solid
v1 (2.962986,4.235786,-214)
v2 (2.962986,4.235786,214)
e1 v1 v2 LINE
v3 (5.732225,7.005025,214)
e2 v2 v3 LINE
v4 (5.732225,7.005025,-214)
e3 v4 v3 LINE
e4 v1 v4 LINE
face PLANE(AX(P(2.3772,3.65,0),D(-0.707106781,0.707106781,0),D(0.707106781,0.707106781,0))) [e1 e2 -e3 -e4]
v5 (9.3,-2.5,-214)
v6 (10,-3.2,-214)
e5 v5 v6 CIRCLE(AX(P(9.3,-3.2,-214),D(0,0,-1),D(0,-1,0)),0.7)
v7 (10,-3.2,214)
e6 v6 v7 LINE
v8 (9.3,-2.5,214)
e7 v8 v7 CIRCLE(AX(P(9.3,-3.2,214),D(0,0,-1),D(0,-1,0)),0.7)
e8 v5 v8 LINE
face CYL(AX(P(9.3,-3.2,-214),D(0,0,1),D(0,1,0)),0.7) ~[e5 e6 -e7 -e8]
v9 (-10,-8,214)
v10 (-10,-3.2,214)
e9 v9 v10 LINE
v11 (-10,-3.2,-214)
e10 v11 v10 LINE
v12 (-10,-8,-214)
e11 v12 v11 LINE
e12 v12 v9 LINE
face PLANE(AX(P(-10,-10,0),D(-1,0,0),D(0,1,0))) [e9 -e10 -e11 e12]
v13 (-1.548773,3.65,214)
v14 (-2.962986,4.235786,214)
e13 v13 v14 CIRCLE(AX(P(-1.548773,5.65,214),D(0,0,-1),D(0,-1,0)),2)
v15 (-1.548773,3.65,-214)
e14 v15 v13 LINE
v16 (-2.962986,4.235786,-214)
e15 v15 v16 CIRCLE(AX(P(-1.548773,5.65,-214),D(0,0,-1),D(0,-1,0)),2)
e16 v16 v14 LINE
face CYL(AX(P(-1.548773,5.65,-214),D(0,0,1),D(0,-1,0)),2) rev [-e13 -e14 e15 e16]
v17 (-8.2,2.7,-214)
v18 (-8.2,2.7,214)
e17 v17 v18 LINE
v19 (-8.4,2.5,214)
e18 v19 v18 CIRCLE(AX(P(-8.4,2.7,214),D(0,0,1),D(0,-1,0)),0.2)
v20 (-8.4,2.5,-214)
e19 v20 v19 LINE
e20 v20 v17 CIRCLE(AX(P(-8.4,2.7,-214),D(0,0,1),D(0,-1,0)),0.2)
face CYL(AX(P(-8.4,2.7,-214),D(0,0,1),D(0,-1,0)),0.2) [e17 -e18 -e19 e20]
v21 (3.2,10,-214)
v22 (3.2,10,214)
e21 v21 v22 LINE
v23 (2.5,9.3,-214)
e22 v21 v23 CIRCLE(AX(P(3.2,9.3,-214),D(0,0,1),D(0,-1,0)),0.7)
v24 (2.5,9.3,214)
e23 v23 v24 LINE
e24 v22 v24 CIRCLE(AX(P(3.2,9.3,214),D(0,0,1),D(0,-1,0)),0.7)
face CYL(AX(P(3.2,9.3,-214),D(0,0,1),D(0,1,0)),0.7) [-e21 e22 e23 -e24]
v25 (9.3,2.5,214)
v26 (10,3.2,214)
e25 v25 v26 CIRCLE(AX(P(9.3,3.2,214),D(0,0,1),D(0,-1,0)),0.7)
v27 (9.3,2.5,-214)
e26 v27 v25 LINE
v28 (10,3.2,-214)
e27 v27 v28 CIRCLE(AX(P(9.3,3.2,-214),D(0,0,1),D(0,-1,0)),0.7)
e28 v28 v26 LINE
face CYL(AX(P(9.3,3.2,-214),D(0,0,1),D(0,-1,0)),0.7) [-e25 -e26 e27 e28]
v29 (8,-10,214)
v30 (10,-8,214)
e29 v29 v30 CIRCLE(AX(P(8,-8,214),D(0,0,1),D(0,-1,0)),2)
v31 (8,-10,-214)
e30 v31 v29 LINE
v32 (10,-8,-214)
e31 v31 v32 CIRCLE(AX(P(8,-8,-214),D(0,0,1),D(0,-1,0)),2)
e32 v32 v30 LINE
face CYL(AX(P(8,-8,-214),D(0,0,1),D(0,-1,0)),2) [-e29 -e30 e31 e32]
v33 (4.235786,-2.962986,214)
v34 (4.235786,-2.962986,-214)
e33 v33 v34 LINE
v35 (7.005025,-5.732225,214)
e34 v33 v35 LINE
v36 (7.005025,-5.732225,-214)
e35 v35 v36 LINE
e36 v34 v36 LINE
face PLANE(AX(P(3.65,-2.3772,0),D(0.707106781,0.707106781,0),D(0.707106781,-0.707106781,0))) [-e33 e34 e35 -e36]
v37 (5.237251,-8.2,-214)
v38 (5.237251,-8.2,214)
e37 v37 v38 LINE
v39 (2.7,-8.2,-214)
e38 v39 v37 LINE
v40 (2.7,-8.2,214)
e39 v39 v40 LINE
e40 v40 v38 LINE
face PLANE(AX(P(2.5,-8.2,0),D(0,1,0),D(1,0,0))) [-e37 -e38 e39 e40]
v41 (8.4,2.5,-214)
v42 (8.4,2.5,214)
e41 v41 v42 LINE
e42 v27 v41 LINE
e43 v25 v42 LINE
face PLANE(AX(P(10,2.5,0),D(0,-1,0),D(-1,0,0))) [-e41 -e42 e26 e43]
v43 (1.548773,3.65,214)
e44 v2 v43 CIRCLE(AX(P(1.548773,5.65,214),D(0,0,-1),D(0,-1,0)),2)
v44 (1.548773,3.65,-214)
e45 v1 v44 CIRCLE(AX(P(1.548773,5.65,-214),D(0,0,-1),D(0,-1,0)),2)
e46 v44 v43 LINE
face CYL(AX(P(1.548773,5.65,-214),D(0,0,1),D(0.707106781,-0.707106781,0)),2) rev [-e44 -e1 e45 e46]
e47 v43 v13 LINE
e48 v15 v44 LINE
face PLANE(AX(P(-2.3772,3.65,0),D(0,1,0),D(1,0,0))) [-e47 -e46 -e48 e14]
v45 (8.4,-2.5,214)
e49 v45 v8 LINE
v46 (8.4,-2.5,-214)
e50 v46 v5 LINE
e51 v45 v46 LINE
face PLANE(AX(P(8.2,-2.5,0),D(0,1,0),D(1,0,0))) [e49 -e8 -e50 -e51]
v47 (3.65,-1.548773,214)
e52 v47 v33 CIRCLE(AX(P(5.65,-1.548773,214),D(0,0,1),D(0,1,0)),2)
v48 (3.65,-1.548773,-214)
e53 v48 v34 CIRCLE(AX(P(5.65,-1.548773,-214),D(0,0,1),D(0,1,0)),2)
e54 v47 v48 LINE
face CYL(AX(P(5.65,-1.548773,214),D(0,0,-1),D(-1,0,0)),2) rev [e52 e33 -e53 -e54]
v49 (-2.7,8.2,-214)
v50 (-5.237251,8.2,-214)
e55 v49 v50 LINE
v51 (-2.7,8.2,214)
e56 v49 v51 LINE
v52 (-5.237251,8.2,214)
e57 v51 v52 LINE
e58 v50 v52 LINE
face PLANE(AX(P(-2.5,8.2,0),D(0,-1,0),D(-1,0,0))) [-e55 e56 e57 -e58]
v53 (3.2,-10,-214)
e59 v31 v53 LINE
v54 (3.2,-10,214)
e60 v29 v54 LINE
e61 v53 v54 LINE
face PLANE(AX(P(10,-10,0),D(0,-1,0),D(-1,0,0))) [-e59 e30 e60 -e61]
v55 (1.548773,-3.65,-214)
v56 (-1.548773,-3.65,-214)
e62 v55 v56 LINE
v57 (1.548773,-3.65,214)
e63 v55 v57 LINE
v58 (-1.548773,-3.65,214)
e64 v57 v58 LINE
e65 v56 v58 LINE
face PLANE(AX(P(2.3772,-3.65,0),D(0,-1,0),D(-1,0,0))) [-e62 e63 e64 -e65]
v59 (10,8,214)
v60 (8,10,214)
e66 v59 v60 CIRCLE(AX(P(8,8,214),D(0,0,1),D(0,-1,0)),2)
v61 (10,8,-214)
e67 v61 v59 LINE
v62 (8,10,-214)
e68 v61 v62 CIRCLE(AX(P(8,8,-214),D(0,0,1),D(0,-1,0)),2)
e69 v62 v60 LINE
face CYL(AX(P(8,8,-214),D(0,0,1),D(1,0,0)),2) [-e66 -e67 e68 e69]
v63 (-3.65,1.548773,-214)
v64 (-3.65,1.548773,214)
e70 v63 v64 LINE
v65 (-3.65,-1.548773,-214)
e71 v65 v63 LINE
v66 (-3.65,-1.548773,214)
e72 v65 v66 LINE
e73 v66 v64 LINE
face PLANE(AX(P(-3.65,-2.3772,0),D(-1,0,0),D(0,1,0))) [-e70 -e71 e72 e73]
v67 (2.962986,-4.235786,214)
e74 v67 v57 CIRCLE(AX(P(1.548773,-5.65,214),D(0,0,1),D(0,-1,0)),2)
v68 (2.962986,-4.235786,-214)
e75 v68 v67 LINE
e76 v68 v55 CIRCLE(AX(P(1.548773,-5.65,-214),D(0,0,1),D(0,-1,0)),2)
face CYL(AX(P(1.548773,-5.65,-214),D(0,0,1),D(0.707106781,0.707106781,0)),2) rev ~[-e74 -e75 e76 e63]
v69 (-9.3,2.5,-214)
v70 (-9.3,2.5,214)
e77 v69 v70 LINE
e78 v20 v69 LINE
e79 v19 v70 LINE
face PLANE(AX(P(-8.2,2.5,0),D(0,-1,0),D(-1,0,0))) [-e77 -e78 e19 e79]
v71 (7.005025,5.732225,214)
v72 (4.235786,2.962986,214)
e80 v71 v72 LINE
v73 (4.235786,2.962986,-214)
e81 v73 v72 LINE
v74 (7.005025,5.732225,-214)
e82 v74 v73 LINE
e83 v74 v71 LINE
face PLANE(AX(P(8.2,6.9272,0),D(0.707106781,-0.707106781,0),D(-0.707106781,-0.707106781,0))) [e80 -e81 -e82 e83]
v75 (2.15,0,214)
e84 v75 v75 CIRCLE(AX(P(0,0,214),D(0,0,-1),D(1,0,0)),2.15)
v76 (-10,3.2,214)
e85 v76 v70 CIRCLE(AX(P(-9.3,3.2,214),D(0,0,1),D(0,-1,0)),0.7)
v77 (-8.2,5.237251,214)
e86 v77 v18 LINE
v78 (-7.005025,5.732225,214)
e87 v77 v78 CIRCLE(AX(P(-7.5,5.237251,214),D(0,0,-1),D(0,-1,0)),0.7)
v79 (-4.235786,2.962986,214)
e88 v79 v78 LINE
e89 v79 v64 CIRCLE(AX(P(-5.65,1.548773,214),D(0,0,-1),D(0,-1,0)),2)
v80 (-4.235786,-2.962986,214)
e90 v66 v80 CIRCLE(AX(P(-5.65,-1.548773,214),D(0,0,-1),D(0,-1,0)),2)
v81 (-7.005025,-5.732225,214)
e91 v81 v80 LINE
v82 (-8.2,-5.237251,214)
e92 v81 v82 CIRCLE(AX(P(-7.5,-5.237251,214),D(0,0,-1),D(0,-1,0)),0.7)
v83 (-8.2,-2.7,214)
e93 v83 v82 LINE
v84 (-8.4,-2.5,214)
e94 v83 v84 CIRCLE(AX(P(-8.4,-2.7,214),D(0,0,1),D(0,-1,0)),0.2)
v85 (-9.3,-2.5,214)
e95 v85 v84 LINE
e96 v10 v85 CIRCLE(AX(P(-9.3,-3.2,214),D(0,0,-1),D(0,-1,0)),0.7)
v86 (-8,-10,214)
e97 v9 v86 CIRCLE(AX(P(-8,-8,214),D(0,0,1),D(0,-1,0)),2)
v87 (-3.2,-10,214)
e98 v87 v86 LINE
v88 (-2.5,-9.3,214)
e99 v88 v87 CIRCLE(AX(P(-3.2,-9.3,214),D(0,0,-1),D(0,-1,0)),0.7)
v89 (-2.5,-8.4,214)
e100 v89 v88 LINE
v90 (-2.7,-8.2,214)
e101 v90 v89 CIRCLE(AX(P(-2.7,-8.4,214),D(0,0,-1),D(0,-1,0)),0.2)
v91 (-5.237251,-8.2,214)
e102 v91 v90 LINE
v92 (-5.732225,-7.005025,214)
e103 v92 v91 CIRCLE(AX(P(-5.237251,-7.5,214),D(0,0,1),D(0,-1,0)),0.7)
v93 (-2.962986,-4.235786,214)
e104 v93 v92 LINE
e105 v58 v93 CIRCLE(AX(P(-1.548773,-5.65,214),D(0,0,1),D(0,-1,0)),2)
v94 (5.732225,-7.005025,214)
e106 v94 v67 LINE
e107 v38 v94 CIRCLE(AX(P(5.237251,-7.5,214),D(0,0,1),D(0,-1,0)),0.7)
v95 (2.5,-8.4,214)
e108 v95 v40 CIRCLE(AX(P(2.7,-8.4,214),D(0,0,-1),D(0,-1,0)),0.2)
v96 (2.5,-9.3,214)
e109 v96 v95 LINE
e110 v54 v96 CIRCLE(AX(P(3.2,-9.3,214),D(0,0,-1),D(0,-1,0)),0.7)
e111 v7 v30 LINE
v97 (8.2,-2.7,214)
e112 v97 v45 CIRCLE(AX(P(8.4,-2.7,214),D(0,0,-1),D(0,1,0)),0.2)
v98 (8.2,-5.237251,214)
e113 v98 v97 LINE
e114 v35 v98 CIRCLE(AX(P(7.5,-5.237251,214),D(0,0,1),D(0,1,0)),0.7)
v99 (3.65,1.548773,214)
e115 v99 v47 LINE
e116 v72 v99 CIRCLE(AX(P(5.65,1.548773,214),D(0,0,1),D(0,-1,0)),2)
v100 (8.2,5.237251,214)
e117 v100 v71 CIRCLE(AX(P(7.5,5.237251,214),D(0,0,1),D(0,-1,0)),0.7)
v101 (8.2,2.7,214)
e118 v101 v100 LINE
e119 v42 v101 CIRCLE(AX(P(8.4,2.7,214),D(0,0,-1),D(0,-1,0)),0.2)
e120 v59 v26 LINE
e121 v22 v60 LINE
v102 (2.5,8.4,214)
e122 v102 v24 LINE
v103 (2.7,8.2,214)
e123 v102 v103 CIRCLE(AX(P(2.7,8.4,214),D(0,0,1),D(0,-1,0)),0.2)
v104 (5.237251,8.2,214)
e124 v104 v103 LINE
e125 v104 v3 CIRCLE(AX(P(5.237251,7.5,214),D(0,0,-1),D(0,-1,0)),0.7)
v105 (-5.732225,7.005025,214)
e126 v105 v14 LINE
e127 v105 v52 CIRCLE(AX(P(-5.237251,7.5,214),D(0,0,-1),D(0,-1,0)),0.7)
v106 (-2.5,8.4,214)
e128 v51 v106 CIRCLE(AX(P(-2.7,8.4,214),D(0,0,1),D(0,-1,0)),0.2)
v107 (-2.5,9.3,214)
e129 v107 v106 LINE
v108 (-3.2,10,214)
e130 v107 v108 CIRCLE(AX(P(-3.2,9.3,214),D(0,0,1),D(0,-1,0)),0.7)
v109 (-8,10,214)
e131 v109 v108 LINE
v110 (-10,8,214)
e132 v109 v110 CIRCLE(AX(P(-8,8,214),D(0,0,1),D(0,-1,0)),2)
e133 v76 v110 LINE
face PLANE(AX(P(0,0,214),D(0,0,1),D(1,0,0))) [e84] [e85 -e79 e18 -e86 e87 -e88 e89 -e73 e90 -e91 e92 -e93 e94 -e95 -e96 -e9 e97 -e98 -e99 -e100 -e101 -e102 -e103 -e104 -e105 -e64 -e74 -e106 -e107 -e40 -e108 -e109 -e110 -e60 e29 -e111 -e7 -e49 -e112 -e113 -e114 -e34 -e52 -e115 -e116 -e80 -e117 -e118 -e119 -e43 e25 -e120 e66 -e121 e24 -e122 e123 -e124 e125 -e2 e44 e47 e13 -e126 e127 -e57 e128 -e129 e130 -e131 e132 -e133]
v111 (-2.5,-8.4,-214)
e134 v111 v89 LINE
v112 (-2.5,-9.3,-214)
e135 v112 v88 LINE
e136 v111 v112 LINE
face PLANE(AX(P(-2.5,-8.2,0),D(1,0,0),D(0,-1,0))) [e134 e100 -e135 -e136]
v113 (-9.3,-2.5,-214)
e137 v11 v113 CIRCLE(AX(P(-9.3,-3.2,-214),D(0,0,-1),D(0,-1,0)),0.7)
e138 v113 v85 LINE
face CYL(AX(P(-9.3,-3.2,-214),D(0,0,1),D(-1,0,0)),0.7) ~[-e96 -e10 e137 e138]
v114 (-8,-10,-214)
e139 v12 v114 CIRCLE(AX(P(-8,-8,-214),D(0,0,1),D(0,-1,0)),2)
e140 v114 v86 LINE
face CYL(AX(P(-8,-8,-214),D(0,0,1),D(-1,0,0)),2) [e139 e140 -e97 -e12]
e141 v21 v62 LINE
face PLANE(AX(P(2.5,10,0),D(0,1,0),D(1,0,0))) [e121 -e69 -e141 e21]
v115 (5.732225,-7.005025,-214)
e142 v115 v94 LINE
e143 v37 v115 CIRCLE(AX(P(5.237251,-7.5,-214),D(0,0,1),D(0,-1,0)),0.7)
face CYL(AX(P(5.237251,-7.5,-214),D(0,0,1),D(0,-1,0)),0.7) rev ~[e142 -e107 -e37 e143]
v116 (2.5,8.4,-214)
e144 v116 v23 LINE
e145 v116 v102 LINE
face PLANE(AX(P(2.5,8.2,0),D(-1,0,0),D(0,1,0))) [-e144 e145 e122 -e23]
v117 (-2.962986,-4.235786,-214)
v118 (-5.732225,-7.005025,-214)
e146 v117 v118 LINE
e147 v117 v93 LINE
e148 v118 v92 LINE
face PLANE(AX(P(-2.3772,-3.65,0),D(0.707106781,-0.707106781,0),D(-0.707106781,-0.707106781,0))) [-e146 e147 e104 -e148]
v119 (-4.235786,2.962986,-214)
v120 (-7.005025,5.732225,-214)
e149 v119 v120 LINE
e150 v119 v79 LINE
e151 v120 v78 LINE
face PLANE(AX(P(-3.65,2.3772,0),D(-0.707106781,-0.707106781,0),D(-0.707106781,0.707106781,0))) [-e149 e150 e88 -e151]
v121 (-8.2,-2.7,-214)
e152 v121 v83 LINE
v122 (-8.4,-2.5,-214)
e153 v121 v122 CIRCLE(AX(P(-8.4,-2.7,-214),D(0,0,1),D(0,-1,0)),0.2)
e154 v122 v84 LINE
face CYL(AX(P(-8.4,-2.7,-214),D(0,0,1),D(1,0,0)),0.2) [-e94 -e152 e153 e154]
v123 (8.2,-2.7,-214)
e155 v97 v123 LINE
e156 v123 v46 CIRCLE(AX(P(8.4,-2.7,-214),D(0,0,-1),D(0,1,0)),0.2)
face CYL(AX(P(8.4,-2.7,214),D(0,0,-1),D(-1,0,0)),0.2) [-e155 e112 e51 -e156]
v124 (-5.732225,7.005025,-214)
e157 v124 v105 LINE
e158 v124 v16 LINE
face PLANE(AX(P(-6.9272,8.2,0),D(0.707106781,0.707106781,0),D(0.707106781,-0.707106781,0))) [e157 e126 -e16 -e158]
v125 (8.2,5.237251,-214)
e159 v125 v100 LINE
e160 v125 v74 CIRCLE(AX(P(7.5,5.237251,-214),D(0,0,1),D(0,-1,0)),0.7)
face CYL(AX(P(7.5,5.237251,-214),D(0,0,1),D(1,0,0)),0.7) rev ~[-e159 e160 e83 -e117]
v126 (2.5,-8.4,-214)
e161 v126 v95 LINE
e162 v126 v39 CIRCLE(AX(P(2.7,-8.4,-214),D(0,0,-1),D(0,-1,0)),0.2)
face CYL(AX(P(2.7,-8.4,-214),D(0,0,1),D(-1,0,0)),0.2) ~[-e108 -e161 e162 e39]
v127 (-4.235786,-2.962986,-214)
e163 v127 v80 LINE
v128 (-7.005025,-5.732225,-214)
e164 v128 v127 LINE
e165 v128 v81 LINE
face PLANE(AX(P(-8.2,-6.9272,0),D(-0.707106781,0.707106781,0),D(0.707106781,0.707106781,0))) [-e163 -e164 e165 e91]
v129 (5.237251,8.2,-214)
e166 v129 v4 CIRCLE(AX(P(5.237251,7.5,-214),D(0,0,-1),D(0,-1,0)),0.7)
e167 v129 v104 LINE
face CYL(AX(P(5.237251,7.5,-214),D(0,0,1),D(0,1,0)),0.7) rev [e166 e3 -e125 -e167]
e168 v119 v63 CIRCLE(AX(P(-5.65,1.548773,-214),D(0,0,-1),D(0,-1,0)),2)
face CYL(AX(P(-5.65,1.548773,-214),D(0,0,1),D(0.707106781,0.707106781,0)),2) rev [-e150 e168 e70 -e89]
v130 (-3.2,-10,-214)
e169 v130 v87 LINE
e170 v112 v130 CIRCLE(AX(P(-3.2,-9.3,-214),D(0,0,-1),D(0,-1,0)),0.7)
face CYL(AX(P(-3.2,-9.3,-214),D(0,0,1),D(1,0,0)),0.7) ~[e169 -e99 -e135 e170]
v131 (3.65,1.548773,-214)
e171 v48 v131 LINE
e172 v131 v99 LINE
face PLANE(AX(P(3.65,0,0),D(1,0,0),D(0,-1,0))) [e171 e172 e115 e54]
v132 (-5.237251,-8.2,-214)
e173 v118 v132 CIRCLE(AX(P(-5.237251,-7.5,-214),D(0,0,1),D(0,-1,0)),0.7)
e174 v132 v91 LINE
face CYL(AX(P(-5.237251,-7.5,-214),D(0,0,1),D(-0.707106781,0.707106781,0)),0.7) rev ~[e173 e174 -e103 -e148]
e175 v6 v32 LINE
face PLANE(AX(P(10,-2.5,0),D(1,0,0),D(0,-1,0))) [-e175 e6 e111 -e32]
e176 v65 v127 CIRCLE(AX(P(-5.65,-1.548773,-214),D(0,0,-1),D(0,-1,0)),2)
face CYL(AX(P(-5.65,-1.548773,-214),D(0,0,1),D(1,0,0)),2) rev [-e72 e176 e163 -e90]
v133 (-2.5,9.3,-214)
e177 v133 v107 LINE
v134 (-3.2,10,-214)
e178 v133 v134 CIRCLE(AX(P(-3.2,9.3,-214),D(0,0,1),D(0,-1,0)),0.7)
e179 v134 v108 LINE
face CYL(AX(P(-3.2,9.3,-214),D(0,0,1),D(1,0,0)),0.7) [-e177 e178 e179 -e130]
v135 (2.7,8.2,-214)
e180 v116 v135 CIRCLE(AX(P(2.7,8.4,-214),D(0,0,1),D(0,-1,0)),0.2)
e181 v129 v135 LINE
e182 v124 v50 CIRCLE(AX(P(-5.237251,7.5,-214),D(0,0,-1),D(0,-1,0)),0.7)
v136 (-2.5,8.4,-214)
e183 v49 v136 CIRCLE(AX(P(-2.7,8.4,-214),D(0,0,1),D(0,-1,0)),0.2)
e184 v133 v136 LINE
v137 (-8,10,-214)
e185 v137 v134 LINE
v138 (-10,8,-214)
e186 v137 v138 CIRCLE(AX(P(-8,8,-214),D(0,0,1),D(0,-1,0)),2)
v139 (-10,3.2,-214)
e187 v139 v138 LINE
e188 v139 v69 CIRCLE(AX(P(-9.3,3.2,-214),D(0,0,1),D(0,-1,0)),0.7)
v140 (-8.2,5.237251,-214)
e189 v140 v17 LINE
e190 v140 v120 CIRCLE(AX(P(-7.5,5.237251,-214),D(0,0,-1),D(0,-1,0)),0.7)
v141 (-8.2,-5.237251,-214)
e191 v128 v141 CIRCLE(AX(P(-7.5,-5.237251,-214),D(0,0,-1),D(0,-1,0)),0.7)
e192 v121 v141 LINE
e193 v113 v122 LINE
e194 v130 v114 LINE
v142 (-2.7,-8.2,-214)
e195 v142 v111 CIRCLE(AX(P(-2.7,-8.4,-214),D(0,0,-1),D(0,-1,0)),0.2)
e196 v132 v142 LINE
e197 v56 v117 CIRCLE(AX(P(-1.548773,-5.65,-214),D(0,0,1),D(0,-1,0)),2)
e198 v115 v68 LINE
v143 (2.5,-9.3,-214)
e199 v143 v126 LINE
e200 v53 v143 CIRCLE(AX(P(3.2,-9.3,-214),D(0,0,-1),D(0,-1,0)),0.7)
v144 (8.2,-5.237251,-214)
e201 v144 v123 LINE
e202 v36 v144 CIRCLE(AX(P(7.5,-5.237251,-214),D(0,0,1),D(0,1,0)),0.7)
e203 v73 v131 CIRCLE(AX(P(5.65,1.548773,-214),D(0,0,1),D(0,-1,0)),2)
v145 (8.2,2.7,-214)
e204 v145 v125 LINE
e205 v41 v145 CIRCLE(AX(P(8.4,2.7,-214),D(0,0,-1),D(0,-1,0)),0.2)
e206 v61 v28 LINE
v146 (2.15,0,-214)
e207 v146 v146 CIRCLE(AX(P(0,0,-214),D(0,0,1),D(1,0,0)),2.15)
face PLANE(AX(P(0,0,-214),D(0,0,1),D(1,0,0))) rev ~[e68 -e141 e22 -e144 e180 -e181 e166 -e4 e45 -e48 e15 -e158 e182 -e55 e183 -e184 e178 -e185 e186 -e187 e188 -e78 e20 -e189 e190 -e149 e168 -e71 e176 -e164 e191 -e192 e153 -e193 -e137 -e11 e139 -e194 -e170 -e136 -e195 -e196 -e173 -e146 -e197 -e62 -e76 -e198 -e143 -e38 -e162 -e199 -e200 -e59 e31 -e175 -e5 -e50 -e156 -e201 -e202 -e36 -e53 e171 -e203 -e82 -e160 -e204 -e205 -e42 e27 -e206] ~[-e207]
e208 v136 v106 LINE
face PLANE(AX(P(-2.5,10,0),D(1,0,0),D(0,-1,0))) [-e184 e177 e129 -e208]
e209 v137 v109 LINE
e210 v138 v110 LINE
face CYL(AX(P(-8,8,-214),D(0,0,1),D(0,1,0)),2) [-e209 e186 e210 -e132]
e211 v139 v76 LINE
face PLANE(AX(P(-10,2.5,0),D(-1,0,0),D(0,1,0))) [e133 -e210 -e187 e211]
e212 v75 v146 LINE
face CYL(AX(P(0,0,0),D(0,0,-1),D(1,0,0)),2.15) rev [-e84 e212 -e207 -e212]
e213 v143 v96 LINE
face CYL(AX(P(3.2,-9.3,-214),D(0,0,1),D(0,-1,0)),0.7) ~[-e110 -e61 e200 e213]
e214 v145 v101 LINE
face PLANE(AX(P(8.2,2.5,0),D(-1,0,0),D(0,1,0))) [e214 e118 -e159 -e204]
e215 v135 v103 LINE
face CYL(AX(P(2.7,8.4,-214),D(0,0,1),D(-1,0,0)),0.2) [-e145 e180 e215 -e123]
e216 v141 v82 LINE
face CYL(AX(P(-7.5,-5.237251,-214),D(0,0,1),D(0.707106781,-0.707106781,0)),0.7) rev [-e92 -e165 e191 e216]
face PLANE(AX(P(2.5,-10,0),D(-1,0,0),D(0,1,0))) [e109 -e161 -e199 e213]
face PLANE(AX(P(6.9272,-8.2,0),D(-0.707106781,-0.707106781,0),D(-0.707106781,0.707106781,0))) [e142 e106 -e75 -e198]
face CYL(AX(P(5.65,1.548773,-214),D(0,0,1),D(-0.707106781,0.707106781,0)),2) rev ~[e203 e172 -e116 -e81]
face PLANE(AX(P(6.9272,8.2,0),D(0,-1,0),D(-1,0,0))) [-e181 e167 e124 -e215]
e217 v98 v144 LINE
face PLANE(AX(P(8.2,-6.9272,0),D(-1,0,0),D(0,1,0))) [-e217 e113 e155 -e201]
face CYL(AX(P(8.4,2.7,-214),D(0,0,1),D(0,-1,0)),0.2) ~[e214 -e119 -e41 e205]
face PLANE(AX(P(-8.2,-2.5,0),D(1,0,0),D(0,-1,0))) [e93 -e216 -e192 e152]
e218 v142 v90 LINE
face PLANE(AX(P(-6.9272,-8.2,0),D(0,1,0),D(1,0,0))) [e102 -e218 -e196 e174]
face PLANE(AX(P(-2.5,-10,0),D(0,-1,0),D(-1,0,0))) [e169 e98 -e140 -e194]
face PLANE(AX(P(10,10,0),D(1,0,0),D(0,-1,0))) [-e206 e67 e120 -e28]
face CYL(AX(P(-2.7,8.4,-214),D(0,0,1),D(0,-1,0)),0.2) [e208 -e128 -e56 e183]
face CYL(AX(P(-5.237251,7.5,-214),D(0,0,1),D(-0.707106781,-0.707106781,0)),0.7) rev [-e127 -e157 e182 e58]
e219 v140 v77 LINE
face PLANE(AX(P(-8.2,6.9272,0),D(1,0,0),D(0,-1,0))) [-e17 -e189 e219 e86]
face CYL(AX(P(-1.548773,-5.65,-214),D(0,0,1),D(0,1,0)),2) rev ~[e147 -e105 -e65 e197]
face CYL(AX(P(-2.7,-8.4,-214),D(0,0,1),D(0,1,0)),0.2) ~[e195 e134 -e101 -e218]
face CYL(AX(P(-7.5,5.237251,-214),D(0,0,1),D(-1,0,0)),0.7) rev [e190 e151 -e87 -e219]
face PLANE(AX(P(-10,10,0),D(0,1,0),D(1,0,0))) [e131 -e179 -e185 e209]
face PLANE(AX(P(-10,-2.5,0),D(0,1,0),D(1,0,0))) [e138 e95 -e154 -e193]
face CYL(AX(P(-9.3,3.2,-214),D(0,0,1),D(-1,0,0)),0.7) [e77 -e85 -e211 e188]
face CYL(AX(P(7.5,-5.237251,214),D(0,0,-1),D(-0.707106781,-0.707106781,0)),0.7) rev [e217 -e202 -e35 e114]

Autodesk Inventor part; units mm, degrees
ref_plane "YZ Plane" through (0, 0, 0) normal (1, 0, 0) x (0, 1, 0)
ref_plane "XZ Plane" through (0, 0, 0) normal (0, 1, 0) x (-1, 0, 0)
ref_plane "XY Plane" through (0, 0, 0) normal (0, 0, 1) x (1, 0, 0)
sketch "Sketch1" plane through (0, 0, 0) normal (0, 0, 1) x (1, 0, 0)
  circle A0 centre (0, 0) radius 2.15
  line L0 (-10, 10) -> (-2.5, 10)
  line L1 (-2.5, 10) -> (-2.5, 8.2)
  line L2 (-2.5, 8.2) -> (-6.9272, 8.2)
  line L3 (-6.9272, 8.2) -> (-2.3772, 3.65)
  line L4 (-2.3772, 3.65) -> (2.3772, 3.65)
  line L5 (2.3772, 3.65) -> (6.9272, 8.2)
  line L6 (6.9272, 8.2) -> (2.5, 8.2)
  line L7 (2.5, 8.2) -> (2.5, 10)
  line L8 (2.5, 10) -> (10, 10)
  line L9 (10, 10) -> (10, 2.5)
  line L10 (10, 2.5) -> (8.2, 2.5)
  line L11 (8.2, 2.5) -> (8.2, 6.9272)
  line L12 (8.2, 6.9272) -> (3.65, 2.3772)
  line L13 (3.65, 2.3772) -> (3.65, -2.3772)
  line L14 (3.65, -2.3772) -> (8.2, -6.9272)
  line L15 (8.2, -6.9272) -> (8.2, -2.5)
  line L16 (8.2, -2.5) -> (10, -2.5)
  line L17 (10, -2.5) -> (10, -10)
  line L18 (10, -10) -> (2.5, -10)
  line L19 (2.5, -10) -> (2.5, -8.2)
  line L20 (2.5, -8.2) -> (6.9272, -8.2)
  line L21 (6.9272, -8.2) -> (2.3772, -3.65)
  line L22 (2.3772, -3.65) -> (-2.3772, -3.65)
  line L23 (-2.3772, -3.65) -> (-6.9272, -8.2)
  line L24 (-6.9272, -8.2) -> (-2.5, -8.2)
  line L25 (-2.5, -8.2) -> (-2.5, -10)
  line L26 (-2.5, -10) -> (-10, -10)
  line L27 (-10, -10) -> (-10, -2.5)
  line L28 (-10, -2.5) -> (-8.2, -2.5)
  line L29 (-8.2, -2.5) -> (-8.2, -6.9272)
  line L30 (-8.2, -6.9272) -> (-3.65, -2.3772)
  line L31 (-3.65, -2.3772) -> (-3.65, 2.3772)
  line L32 (-3.65, 2.3772) -> (-8.2, 6.9272)
  line L33 (-8.2, 6.9272) -> (-8.2, 2.5)
  line L34 (-8.2, 2.5) -> (-10, 2.5)
  line L35 (-10, 2.5) -> (-10, 10)
  line L36 (0, 0) -> (-30.8654, 30.8654)
  line L37 (0, 0) -> (30.8654, 30.8654)
  line L38 (0, 0) -> (42.5392, 0)
  line L39 (0, 0) -> (0, 44.3419)
  dimension "d0" = 45
  dimension "d1" = 90
  dimension "Breite" = 20
  dimension "Tiefe_Schiene" = 6.35
  dimension "d2" = 1.8
  dimension "Durchmesser_Loch" = 4.3
  dimension "Wandstaerke" = 1.8
  dimension "d3" = 1.8
  dimension "Breite_Schiene" = 5
  dimension "d4" = 5
extrude "Extrusion1" add sketch "Sketch1" along normal mid plane 428 contours L38 L13 L14 L15 L16 L17 L18 L19 L20 L21 L22 L23 L24 L25 L26 L27 L28 L29 L30 L31 L32 L33 L34 L35 L36 A0 | A0 L37 L9 L10 L11 L12 L13 L38 | A0 L39 L4 L5 L6 L7 L8 L37 | L36 L0 L1 L2 L3 L4 L39 A0
fillet "Fillet1" radius 2 4 edges at (10, 10, 0) (-10, 10, 0) (10, -10, 0) (-10, -10, 0)
fillet "Fillet2" radius 0.2 8 edges at (-2.5, 8.2, 0) (2.5, 8.2, 0) (8.2, 2.5, 0) (8.2, -2.5, 0) (-2.5, -8.2, 0) (-8.2, -2.5, 0) (-8.2, 2.5, 0) (2.5, -8.2, 0)
fillet "Fillet3" radius 0.7 16 edges at (-2.5, 10, 0) (2.5, 10, 0) (10, 2.5, 0) (10, -2.5, 0) (2.5, -10, 0) (-2.5, -10, 0) (-10, -2.5, 0) (-10, 2.5, 0) (-6.9272, -8.2, 0) (-8.2, -6.9272, 0) (6.9272, -8.2, 0) (8.2, -6.9272, 0) (8.2, 6.9272, 0) (6.9272, 8.2, 0) (-6.9272, 8.2, 0) (-8.2, 6.9272, 0)
fillet "Fillet4" radius 2 8 edges at (-3.65, 2.3772, 0) (-2.3772, 3.65, 0) (2.3772, 3.65, 0) (3.65, 2.3772, 0) (3.65, -2.3772, 0) (2.3772, -3.65, 0) (-2.3772, -3.65, 0) (-3.65, -2.3772, 0)
equation "\"d2\" = Wandstaerke"
equation "\"d3\" = Wandstaerke"
equation "\"d4\" = Breite_Schiene"
properties part number "ITEM_20x20_428mm"
